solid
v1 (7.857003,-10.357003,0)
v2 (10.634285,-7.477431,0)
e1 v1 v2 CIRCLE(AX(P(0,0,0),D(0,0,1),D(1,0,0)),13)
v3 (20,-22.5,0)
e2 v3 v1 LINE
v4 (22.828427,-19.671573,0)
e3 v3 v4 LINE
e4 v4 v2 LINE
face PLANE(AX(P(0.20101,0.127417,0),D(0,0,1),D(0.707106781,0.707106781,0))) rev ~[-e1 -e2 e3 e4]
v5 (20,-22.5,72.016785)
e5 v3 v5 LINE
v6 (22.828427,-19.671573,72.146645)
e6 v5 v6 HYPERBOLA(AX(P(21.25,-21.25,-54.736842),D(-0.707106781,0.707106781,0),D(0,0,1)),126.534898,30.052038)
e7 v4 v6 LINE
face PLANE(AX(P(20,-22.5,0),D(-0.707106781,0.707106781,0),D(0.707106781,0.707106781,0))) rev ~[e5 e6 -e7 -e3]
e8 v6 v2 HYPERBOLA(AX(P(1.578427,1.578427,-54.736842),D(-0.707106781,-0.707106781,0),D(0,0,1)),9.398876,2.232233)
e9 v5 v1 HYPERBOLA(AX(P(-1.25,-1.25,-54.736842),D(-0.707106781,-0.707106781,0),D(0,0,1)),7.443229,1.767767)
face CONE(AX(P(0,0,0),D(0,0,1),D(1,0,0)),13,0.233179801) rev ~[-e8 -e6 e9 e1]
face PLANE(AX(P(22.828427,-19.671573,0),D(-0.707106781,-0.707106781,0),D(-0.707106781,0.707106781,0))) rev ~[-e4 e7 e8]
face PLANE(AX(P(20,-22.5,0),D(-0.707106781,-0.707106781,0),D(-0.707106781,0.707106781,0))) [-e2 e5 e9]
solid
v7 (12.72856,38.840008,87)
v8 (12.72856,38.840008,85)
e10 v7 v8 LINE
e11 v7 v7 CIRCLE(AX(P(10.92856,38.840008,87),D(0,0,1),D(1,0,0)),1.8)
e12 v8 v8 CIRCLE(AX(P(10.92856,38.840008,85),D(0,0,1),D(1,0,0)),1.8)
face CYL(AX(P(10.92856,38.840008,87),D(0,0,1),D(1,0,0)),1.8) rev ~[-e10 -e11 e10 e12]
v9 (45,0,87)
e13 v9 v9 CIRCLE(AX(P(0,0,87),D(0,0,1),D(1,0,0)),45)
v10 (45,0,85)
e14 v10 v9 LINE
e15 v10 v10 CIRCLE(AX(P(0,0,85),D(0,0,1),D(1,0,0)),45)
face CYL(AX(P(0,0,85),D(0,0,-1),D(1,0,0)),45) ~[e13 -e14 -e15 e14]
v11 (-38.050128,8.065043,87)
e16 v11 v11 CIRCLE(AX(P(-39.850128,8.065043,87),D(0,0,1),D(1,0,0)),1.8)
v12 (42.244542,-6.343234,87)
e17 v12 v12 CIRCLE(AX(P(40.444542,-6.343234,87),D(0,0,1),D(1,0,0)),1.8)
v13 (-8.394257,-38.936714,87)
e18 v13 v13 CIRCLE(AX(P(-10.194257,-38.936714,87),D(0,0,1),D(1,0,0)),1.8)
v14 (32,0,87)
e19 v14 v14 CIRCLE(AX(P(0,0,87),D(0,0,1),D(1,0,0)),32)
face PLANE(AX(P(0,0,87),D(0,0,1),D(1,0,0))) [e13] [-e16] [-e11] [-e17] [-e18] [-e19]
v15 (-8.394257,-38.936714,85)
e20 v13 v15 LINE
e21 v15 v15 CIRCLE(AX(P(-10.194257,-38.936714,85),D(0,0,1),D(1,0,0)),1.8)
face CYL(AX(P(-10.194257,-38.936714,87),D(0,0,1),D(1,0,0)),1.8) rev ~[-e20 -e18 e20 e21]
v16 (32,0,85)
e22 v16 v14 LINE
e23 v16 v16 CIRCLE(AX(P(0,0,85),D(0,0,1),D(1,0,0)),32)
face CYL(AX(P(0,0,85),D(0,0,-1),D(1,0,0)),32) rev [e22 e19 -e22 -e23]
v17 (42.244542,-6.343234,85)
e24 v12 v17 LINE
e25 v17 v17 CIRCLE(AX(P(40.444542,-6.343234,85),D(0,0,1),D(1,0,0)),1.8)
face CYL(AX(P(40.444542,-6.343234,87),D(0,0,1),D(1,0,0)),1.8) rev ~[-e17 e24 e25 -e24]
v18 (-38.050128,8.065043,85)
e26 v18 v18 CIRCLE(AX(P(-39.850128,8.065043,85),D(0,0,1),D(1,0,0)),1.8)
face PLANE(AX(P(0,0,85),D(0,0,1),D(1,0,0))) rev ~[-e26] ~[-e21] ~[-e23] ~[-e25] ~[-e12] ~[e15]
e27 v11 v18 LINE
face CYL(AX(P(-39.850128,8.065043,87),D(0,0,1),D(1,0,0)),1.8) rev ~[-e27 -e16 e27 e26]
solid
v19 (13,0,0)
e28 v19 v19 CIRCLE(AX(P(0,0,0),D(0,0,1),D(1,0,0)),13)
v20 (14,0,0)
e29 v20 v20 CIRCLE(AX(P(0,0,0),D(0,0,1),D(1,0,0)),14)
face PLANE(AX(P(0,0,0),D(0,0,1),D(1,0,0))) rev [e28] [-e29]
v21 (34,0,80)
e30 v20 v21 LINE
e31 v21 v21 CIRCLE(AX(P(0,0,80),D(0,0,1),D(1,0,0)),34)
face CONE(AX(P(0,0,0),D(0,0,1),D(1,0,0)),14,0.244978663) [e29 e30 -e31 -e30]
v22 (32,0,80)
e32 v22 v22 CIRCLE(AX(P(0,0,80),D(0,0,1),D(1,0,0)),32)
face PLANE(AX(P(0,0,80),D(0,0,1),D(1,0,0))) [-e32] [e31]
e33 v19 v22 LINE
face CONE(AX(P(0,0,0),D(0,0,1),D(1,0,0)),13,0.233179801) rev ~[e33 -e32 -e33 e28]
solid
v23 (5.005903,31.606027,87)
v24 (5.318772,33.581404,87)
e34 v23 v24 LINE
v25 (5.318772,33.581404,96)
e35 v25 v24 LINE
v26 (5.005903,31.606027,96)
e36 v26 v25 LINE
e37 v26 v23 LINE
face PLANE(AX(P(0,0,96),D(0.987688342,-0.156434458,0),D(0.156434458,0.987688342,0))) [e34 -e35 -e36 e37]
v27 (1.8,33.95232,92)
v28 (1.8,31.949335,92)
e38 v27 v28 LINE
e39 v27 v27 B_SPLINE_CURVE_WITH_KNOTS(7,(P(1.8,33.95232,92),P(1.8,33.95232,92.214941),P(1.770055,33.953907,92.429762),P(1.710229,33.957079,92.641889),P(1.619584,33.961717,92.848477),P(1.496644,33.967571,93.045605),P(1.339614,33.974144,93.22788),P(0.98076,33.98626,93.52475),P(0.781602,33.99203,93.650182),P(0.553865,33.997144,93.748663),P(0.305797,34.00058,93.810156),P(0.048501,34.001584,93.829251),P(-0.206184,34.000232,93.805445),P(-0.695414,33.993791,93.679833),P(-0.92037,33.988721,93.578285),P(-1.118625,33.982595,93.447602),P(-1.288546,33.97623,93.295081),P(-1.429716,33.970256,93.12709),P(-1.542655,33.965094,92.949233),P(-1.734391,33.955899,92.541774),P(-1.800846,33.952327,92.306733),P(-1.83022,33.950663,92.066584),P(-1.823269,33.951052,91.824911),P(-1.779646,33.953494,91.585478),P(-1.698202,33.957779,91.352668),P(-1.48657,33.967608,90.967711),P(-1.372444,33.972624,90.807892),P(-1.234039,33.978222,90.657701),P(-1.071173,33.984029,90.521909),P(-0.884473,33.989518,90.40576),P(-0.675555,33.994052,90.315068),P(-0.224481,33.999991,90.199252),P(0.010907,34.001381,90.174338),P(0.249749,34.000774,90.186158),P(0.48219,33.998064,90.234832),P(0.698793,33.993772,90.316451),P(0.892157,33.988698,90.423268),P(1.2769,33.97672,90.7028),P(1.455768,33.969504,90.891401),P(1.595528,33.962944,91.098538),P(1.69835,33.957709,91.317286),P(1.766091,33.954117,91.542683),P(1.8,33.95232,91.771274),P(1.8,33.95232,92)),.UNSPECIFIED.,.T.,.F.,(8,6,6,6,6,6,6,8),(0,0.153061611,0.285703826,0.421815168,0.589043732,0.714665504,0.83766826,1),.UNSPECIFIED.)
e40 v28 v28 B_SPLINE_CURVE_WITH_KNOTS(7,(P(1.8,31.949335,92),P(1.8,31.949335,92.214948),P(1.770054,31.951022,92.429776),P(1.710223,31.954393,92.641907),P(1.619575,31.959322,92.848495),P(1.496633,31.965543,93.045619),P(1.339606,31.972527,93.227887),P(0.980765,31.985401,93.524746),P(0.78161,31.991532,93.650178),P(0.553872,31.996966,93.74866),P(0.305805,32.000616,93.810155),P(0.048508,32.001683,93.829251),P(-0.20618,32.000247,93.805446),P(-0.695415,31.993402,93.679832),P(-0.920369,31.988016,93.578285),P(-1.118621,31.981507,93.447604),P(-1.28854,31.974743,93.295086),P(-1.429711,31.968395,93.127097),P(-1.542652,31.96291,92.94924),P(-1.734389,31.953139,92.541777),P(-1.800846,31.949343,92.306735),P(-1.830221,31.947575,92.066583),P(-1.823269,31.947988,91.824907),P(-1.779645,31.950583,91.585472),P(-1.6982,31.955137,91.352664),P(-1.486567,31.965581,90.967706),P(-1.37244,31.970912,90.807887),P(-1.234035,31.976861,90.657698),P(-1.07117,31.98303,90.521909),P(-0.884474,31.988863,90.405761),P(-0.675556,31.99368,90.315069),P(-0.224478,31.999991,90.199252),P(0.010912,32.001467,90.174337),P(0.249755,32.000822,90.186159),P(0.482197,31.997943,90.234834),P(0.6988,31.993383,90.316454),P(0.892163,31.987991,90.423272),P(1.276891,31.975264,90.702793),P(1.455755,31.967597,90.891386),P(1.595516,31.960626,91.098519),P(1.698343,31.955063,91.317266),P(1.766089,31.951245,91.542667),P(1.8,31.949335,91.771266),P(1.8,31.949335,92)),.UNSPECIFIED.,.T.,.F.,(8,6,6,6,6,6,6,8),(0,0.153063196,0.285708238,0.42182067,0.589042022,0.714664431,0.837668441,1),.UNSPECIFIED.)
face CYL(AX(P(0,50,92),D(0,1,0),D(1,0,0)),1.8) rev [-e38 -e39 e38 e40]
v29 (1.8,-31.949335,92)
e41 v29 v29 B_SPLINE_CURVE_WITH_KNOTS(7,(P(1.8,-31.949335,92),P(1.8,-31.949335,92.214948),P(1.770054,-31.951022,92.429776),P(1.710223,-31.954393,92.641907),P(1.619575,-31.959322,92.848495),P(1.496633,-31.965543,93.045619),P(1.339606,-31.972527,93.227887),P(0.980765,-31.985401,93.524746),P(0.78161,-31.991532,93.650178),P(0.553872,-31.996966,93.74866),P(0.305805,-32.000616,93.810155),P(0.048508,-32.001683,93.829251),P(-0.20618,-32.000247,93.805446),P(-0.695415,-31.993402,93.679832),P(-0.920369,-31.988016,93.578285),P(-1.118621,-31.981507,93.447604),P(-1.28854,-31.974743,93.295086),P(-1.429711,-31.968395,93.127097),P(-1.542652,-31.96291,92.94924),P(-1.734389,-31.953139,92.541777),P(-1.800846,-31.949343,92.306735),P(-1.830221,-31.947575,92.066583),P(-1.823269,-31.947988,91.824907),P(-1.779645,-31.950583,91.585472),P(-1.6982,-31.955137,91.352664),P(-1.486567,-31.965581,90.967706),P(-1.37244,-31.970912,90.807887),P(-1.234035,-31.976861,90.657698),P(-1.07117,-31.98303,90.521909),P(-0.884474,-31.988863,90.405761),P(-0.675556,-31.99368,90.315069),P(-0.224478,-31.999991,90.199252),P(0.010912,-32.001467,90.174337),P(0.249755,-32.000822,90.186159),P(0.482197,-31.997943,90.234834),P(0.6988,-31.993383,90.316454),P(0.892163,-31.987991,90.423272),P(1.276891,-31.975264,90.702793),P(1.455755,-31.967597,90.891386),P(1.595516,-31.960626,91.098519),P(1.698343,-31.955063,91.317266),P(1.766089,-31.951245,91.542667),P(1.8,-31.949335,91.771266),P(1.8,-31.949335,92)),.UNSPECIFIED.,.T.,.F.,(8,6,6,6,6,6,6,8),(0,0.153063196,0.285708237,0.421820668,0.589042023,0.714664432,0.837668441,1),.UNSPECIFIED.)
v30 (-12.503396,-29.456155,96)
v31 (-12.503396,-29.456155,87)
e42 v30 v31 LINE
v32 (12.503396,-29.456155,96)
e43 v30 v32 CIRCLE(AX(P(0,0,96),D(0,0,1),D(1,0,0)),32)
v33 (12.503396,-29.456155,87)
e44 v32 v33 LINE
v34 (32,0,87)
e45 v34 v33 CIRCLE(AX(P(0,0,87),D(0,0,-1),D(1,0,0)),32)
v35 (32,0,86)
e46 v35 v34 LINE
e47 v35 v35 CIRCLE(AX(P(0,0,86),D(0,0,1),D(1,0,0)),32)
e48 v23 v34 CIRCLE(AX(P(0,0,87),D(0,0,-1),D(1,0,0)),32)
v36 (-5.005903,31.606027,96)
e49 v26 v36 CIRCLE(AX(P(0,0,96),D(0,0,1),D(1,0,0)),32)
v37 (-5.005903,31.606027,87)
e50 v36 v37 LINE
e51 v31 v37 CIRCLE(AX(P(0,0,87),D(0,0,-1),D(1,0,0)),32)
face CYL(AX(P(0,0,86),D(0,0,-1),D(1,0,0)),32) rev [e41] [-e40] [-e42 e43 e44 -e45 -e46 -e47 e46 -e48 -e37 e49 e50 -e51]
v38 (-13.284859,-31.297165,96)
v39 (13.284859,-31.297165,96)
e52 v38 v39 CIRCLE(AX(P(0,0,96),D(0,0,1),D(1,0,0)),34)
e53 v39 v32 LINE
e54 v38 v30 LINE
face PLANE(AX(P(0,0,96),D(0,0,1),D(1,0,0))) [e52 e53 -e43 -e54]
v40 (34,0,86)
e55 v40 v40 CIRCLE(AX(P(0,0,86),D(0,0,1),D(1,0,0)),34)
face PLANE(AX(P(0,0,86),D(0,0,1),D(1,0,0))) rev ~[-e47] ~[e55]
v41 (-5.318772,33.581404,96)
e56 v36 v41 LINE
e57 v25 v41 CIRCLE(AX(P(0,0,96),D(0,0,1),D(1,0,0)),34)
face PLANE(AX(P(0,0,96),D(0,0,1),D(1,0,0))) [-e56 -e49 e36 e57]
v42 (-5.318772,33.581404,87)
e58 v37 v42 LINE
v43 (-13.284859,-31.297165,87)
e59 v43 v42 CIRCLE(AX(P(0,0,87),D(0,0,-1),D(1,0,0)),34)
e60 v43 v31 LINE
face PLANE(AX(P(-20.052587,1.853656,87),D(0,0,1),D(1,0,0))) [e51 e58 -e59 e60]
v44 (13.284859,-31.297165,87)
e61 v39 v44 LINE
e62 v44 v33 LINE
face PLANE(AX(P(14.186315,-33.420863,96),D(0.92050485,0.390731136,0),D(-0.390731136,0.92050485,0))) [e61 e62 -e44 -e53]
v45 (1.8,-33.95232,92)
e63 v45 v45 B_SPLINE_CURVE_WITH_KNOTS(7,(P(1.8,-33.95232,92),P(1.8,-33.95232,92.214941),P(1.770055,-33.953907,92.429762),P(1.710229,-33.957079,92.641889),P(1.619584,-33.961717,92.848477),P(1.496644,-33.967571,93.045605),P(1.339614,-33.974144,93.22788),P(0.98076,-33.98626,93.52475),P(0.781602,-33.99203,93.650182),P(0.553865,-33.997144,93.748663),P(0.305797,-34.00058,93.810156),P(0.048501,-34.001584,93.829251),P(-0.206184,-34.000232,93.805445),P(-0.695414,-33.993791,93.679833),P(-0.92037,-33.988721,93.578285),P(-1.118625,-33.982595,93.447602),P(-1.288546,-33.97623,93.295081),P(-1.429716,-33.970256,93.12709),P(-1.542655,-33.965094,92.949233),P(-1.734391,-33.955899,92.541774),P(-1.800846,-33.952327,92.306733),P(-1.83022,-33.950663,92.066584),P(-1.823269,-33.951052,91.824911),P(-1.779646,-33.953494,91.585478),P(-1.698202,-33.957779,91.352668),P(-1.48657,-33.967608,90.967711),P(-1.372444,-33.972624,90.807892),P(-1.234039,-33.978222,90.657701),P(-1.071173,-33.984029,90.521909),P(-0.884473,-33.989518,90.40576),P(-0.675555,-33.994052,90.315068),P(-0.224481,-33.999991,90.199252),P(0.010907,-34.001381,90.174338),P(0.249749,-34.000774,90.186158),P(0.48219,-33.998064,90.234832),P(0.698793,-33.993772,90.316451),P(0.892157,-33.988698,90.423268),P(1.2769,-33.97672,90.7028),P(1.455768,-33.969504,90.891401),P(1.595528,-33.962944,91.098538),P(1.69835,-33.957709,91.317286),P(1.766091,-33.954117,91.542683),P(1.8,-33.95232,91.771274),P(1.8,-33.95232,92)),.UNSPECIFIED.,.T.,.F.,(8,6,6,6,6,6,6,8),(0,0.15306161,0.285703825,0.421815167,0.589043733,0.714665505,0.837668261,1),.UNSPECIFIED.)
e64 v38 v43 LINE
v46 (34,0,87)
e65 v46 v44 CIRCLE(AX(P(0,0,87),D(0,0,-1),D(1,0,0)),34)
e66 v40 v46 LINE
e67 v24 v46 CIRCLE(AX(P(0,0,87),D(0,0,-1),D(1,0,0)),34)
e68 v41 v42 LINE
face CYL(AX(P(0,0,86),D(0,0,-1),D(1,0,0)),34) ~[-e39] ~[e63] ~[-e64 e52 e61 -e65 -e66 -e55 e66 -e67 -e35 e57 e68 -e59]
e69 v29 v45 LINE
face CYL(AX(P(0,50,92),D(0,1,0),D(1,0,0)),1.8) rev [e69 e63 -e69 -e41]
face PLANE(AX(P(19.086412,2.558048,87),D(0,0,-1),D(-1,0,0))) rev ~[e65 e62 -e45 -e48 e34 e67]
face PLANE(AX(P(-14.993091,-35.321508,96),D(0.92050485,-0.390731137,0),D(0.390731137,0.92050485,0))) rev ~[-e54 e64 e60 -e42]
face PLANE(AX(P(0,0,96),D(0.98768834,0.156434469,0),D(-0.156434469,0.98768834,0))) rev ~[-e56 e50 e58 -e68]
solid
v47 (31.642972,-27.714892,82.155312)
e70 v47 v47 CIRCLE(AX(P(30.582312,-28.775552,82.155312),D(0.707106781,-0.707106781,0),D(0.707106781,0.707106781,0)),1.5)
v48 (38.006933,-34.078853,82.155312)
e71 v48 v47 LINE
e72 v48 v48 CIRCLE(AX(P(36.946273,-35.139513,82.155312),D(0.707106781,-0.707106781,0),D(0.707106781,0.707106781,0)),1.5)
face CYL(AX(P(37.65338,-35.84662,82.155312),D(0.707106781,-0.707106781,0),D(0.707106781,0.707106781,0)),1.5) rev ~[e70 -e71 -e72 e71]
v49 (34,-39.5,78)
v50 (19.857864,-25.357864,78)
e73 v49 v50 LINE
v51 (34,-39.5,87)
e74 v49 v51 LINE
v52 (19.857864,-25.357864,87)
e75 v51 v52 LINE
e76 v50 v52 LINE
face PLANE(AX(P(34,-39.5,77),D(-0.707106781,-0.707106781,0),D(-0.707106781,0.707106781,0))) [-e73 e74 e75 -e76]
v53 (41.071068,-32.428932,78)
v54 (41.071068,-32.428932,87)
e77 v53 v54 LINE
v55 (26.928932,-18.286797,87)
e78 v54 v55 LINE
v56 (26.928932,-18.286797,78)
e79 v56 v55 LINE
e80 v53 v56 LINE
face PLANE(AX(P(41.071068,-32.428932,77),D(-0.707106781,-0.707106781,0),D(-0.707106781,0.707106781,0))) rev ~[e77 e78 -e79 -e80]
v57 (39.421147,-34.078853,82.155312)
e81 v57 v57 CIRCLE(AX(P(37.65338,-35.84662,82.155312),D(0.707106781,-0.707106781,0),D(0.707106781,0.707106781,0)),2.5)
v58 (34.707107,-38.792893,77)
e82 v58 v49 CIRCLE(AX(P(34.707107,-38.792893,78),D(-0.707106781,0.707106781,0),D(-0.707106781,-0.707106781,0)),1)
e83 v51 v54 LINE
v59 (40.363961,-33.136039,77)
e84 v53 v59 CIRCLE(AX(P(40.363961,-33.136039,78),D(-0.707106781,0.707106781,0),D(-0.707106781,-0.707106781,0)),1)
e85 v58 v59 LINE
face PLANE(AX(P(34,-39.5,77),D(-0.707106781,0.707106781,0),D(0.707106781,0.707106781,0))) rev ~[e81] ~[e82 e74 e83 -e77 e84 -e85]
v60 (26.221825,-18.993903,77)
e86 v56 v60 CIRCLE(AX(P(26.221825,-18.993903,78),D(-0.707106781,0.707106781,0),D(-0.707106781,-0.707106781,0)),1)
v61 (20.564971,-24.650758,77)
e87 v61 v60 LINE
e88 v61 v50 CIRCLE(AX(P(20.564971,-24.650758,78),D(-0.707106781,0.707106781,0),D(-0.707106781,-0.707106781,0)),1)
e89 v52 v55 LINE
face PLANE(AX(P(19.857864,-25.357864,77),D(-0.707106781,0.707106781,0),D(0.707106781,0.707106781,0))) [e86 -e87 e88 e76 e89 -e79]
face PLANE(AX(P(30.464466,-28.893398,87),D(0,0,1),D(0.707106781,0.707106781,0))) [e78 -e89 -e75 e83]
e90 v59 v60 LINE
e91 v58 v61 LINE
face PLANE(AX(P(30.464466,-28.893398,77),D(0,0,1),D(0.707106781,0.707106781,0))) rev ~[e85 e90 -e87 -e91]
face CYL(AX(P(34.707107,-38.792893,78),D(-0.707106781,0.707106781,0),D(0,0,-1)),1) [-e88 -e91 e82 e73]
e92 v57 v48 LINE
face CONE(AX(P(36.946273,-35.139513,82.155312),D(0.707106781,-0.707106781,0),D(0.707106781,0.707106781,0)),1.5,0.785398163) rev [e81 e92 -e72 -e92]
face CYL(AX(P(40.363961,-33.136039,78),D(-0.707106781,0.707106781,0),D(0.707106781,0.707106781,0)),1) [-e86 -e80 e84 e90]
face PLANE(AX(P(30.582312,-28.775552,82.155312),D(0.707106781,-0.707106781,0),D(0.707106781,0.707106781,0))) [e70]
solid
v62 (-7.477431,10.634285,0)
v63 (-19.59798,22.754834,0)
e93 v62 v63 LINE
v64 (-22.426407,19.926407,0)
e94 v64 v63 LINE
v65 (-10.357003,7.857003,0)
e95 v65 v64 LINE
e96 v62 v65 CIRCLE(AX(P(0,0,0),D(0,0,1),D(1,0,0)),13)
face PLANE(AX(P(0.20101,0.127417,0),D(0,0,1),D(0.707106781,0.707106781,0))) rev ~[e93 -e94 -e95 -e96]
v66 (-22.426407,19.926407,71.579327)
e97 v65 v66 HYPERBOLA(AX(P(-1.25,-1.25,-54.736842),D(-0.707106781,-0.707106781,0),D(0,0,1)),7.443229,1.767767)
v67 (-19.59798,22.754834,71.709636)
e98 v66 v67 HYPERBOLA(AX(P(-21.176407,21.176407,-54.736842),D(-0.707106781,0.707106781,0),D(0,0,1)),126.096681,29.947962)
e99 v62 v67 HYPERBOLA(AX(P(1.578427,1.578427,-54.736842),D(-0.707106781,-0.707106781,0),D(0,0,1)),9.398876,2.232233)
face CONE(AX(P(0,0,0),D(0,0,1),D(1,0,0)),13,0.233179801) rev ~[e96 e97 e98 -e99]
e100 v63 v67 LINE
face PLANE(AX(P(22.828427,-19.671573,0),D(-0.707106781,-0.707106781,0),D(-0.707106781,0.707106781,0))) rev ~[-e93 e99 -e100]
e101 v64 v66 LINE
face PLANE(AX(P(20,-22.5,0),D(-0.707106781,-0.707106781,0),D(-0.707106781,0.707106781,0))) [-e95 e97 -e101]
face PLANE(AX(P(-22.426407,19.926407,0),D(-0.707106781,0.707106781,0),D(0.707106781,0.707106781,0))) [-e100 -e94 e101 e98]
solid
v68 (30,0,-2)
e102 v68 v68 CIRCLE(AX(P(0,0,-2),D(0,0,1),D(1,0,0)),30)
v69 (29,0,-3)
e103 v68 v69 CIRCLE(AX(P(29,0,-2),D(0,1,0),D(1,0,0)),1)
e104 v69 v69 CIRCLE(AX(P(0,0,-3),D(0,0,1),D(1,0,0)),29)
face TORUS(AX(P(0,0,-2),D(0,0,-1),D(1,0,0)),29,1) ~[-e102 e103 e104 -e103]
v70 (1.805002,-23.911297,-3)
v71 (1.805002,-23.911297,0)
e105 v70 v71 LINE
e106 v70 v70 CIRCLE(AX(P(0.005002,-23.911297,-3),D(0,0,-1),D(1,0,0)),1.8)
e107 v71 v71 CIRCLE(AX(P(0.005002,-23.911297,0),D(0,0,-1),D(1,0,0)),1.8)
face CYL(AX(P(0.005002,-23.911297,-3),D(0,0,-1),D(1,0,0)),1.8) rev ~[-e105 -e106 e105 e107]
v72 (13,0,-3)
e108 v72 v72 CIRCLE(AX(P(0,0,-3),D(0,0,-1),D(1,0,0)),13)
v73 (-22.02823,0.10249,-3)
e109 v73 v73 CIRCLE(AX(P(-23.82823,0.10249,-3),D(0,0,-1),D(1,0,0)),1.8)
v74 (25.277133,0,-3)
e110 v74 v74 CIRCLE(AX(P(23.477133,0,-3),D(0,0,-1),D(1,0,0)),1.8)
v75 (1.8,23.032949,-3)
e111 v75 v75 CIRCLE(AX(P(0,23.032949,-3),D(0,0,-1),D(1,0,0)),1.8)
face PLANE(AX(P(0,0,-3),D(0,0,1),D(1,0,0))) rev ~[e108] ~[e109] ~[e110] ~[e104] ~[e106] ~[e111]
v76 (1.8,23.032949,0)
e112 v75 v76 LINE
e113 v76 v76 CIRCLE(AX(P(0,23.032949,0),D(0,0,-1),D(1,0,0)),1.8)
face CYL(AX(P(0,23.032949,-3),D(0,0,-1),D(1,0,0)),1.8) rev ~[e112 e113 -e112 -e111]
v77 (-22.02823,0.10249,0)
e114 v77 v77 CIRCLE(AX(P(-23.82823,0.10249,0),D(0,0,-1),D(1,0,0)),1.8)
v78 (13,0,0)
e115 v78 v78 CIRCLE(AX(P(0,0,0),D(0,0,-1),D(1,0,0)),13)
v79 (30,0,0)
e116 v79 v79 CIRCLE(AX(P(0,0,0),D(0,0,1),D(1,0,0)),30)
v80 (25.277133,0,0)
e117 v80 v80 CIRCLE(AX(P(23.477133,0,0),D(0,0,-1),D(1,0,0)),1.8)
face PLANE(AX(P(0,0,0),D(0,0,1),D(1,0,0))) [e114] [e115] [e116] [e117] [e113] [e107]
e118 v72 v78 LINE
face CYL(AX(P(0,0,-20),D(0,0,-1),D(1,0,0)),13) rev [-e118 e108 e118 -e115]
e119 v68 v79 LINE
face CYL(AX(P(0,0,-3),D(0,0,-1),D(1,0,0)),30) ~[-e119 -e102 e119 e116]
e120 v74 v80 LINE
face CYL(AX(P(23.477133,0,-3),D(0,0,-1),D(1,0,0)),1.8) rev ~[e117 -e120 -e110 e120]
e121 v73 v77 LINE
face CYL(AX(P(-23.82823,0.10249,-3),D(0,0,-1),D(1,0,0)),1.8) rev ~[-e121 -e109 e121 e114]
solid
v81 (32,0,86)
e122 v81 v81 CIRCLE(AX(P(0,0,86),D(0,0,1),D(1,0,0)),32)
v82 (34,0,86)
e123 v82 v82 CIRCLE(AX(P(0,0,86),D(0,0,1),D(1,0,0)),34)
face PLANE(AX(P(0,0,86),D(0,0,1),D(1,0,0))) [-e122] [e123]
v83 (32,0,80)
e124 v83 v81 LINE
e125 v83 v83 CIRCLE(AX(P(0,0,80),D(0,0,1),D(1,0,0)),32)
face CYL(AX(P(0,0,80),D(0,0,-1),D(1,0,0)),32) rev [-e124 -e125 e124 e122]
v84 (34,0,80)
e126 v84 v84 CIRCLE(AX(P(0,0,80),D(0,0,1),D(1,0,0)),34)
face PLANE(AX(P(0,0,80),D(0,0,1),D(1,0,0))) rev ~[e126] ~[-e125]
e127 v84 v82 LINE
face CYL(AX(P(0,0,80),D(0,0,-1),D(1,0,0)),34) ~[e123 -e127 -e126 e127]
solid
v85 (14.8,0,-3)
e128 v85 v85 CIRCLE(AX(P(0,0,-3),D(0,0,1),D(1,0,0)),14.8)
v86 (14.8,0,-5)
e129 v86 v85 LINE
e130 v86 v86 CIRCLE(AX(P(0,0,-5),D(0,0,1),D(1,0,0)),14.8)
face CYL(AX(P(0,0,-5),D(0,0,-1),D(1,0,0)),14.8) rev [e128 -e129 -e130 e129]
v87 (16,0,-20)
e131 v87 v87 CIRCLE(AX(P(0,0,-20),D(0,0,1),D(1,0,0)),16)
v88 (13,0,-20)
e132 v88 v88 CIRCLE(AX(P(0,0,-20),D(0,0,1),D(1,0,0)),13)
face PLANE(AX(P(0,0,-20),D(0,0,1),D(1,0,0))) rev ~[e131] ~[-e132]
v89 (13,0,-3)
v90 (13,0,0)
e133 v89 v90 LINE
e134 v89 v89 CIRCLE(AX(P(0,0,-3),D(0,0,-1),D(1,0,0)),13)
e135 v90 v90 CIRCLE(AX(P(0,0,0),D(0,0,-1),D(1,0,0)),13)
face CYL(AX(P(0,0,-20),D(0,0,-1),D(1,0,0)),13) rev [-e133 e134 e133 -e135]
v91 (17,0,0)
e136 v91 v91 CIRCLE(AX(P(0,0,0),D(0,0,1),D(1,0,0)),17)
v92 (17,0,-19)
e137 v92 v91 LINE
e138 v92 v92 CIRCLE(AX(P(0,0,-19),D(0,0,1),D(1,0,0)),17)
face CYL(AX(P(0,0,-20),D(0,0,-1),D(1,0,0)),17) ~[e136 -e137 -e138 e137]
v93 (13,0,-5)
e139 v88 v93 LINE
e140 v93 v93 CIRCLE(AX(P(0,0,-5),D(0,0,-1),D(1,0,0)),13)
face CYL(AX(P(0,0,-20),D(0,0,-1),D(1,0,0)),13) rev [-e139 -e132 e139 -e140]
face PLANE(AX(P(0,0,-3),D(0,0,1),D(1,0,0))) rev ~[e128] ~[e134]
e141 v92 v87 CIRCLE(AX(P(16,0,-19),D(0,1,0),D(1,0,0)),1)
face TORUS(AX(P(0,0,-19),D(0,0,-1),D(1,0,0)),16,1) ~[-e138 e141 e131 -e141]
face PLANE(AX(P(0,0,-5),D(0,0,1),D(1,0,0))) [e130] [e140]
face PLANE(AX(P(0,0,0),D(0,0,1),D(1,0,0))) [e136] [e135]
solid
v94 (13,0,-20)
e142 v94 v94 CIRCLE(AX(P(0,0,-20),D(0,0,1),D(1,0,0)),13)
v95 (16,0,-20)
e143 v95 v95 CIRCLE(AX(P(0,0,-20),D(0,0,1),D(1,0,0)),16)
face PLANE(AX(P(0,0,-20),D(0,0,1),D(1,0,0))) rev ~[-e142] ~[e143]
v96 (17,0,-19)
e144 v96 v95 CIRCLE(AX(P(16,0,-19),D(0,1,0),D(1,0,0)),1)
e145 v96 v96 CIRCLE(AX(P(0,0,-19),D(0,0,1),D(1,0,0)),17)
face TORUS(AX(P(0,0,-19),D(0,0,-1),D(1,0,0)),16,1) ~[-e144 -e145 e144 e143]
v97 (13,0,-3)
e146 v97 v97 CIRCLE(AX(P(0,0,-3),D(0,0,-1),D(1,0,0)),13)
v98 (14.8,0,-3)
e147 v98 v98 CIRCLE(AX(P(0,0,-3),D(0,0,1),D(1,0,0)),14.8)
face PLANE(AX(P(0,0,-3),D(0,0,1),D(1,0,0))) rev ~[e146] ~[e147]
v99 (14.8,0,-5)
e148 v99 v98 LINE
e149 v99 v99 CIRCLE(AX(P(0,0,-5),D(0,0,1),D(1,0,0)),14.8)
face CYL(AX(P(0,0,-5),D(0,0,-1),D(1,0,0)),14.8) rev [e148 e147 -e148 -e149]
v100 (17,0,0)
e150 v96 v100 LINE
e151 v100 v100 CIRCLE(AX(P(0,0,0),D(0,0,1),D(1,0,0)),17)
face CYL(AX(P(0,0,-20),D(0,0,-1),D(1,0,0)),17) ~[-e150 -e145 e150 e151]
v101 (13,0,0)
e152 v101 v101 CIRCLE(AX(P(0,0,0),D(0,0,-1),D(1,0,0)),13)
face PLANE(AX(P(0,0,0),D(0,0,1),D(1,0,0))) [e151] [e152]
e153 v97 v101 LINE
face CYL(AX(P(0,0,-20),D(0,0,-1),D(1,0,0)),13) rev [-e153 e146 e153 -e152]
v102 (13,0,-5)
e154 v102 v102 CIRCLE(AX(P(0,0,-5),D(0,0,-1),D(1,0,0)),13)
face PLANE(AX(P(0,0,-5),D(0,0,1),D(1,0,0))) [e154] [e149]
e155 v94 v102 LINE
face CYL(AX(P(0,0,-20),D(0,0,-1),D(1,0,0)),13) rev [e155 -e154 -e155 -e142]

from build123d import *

# Parameters (mm, degrees)
CYLINDER004_R          = 32
CYLINDER004_DEPTH      = 6
CYLINDER003_R          = 34
CYLINDER003_DEPTH      = 6
CYLINDER008_R          = 1.8
CYLINDER008_DEPTH      = 100
CYLINDER008_ROLL_ANGLE = 90
CYLINDER006_R          = 32
CYLINDER006_DEPTH      = 10
CYLINDER005_R          = 34
CYLINDER005_DEPTH      = 10
POCKET001_DEPTH        = 9
CYLINDER007_R          = 14.8
CYLINDER007_DEPTH      = 2
CYLINDER001_R          = 13
CYLINDER001_DEPTH      = 25
CYLINDER_R             = 17
CYLINDER_DEPTH         = 20
FILLET_R               = 1
CYLINDER002_R          = 30
CYLINDER002_DEPTH      = 3
SKETCH_R               = 1.8
POCKET_DEPTH           = 5
FILLET001_R            = 1
BOX_W                  = 4
BOX_H                  = 60
BOX_DEPTH              = 74
BOX_PLACEMENT_ANGLE    = 45
FILLET002_R            = 1
BOX001_W               = 10
BOX001_H               = 20
BOX001_DEPTH           = 10
BOX001_PLACEMENT_ANGLE = 45
FILLET003_R            = 1
FILLET004_R            = 1
SKETCH004_R            = 1.5
POCKET002_DEPTH        = 10
CHAMFER_SIZE           = 1
CYLINDER009_R          = 32
CYLINDER009_DEPTH      = 2
CYLINDER010_R          = 45
CYLINDER010_DEPTH      = 2
SKETCH005_R            = 1.8
POCKET003_DEPTH        = 5


with BuildPart() as cone001:
    # Cone001 → Cone001 (revolve)
    with BuildSketch(Plane.XZ):
        Polygon((0, 0), (13, 0), (32, 80), (0, 80), align=None)
    revolve(axis=Axis((0, 0, 0), (0, 0, 1)))


with BuildPart() as cut:
    # Cone → Cone (revolve)
    with BuildSketch(Plane.XZ):
        Polygon((0, 0), (14, 0), (34, 80), (0, 80), align=None)
    revolve(axis=Axis((0, 0, 0), (0, 0, 1)))

    # Cut: cut Cone001
    add(cone001.part, mode=Mode.SUBTRACT)


with BuildPart() as cylinder004:
    # Cylinder004 → Cylinder004 (new body)
    with BuildSketch(Plane.XY.offset(80)):
        Circle(CYLINDER004_R)
    extrude(amount=CYLINDER004_DEPTH)


with BuildPart() as cut003:
    # Cylinder003 → Cylinder003 (new body)
    with BuildSketch(Plane.XY.offset(80)):
        Circle(CYLINDER003_R)
    extrude(amount=CYLINDER003_DEPTH)

    # Cut003: cut Cylinder004
    add(cylinder004.part, mode=Mode.SUBTRACT)


with BuildPart() as cut_hole_kone:
    # Cylinder008 → Cylinder008 (new body)
    with BuildSketch(Plane.XY):
        Circle(CYLINDER008_R)
    extrude(amount=CYLINDER008_DEPTH)


with BuildPart() as cut_hole_kone_1:
    # Cylinder008 roll: moved
    add(cut_hole_kone.part.rotate(Axis((0, 0, 0), (1, 0, 0)), CYLINDER008_ROLL_ANGLE))


with BuildPart() as cut_hole_kone_2:
    # Cylinder008 placement: moved
    add(cut_hole_kone_1.part.moved(Location((0, 50, 92))))


with BuildPart() as cylinder006:
    # Cylinder006 → Cylinder006 (new body)
    with BuildSketch(Plane.XY.offset(86)):
        Circle(CYLINDER006_R)
    extrude(amount=CYLINDER006_DEPTH)


with BuildPart() as cut006:
    # Cylinder005 → Cylinder005 (new body)
    with BuildSketch(Plane.XY.offset(86)):
        Circle(CYLINDER005_R)
    extrude(amount=CYLINDER005_DEPTH)

    # Cut004: cut Cylinder006
    add(cylinder006.part, mode=Mode.SUBTRACT)

    # Sketch003 → Pocket001 (cut)
    with BuildSketch(Plane.XY.offset(96)):
        Polygon((0, 0), (-5.990578, 37.82302), (-31.650867, 27.834166), (-41.242527, 10.455221), (-39.533127, -18.98452), (-26.522657, -31.615118), (-14.993091, -35.321508), align=None)
        Polygon((0, 0), (6.139302, 38.762029), (24.189667, 32.677479), (37.200134, 15.868335), (39.289402, -13.666372), (33.116558, -24.207699), (21.340666, -34.084259), (14.186315, -33.420863), align=None)
    extrude(amount=-POCKET001_DEPTH, mode=Mode.SUBTRACT)

    # Cut006: cut Cut hole kone
    add(cut_hole_kone_2.part, mode=Mode.SUBTRACT)


with BuildPart() as cylinder007:
    # Cylinder007 → Cylinder007 (new body)
    with BuildSketch(Plane.XY.offset(-5)):
        Circle(CYLINDER007_R)
    extrude(amount=CYLINDER007_DEPTH)


with BuildPart() as cylinder001:
    # Cylinder001 → Cylinder001 (new body)
    with BuildSketch(Plane.XY.offset(-20)):
        Circle(CYLINDER001_R)
    extrude(amount=CYLINDER001_DEPTH)


with BuildPart() as cut005:
    # Cylinder → Cylinder (new body)
    with BuildSketch(Plane.XY.offset(-20)):
        Circle(CYLINDER_R)
    extrude(amount=CYLINDER_DEPTH)

    # Cut001: cut Cylinder001
    add(cylinder001.part, mode=Mode.SUBTRACT)

    # Cut005: cut Cylinder007
    add(cylinder007.part, mode=Mode.SUBTRACT)


with BuildPart() as fillet_body:
    # Fillet base: copy of Cut005
    add(cut005.part)

    # Fillet
    fillet_edges = [fillet_body.edges().sort_by_distance(p)[0] for p in [
        (-17, 0, -20),
    ]]
    fillet(fillet_edges, radius=FILLET_R)


with BuildPart() as fillet001:
    # Cylinder002 → Cylinder002 (new body)
    with BuildSketch(Plane.XY.offset(-3)):
        Circle(CYLINDER002_R)
    extrude(amount=CYLINDER002_DEPTH)

    # Cut002: cut Cylinder001
    add(cylinder001.part, mode=Mode.SUBTRACT)

    # Sketch → Pocket (cut)
    with BuildSketch(Plane(origin=(0, 0, -3), x_dir=(1, 0, 0), z_dir=(0, 0, -1))):
        with Locations((0.005002, 23.911297)):
            Circle(SKETCH_R)
        with Locations((23.477133, 0)):
            Circle(SKETCH_R)
        with Locations((0, -23.032949)):
            Circle(SKETCH_R)
        with Locations((-23.82823, -0.10249)):
            Circle(SKETCH_R)
    extrude(amount=-POCKET_DEPTH, mode=Mode.SUBTRACT)

    # Fillet001
    fillet001_edges = [fillet001.edges().sort_by_distance(p)[0] for p in [
        (-30, 0, -3),
    ]]
    fillet(fillet001_edges, radius=FILLET001_R)


with BuildPart() as cut007:
    # Box → Box (new body)
    with BuildSketch(Plane.XY):
        with Locations((2, 30)):
            Rectangle(BOX_W, BOX_H)
    extrude(amount=BOX_DEPTH)


with BuildPart() as cut007_1:
    # Box placement: moved
    add(cut007.part.moved(Location((20, -22.5, 0))).rotate(Axis((20, -22.5, 0), (0, 0, 1)), BOX_PLACEMENT_ANGLE))

    # Cut007: cut Cone001
    add(cone001.part, mode=Mode.SUBTRACT)


with BuildPart() as fillet002:
    # Fillet002 base: copy of Cut005
    add(cut005.part)

    # Fillet002
    fillet002_edges = [fillet002.edges().sort_by_distance(p)[0] for p in [
        (-17, 0, -20),
    ]]
    fillet(fillet002_edges, radius=FILLET002_R)


with BuildPart() as chamfer_body:
    # Box001 → Box001 (new body)
    with BuildSketch(Plane.XY):
        with Locations((5, 10)):
            Rectangle(BOX001_W, BOX001_H)
    extrude(amount=BOX001_DEPTH)


with BuildPart() as chamfer_body_1:
    # Box001 placement: moved
    add(chamfer_body.part.moved(Location((34, -39.5, 77))).rotate(Axis((34, -39.5, 77), (0, 0, 1)), BOX001_PLACEMENT_ANGLE))

    # Fillet003
    fillet003_edges = [chamfer_body_1.edges().sort_by_distance(p)[0] for p in [
        (34, -25.357864, 77),
    ]]
    fillet(fillet003_edges, radius=FILLET003_R)

    # Fillet004
    fillet004_edges = [chamfer_body_1.edges().sort_by_distance(p)[0] for p in [
        (26.928932, -32.428932, 77),
    ]]
    fillet(fillet004_edges, radius=FILLET004_R)

    # Sketch004 → Pocket002 (cut)
    with BuildSketch(Plane(origin=(36.75, -36.75, 0), x_dir=(0.707107, 0.707107, 0), z_dir=(0.707107, -0.707107, 0))):
        with Locations((1.277572, 82.155312)):
            Circle(SKETCH004_R)
    extrude(amount=-POCKET002_DEPTH, mode=Mode.SUBTRACT)

    # Chamfer
    chamfer_edges = [chamfer_body_1.edges().sort_by_distance(p)[0] for p in [
        (36.59272, -36.90728, 82.155312),
    ]]
    chamfer(chamfer_edges, length=CHAMFER_SIZE)


with BuildPart() as cylinder009:
    # Cylinder009 → Cylinder009 (new body)
    with BuildSketch(Plane.XY.offset(85)):
        Circle(CYLINDER009_R)
    extrude(amount=CYLINDER009_DEPTH)


with BuildPart() as pocket003:
    # Cylinder010 → Cylinder010 (new body)
    with BuildSketch(Plane.XY.offset(85)):
        Circle(CYLINDER010_R)
    extrude(amount=CYLINDER010_DEPTH)

    # Cut008: cut Cylinder009
    add(cylinder009.part, mode=Mode.SUBTRACT)

    # Sketch005 → Pocket003 (cut)
    with BuildSketch(Plane.XY.offset(87)):
        with Locations((10.92856, 38.840008)):
            Circle(SKETCH005_R)
        with Locations((40.444542, -6.343234)):
            Circle(SKETCH005_R)
        with Locations((-10.194257, -38.936714)):
            Circle(SKETCH005_R)
        with Locations((-39.850128, 8.065043)):
            Circle(SKETCH005_R)
    extrude(amount=-POCKET003_DEPTH, mode=Mode.SUBTRACT)


solid = Compound([cut.part, cut003.part, cut006.part, fillet_body.part, fillet001.part, cut007_1.part, fillet002.part, chamfer_body_1.part, pocket003.part])
